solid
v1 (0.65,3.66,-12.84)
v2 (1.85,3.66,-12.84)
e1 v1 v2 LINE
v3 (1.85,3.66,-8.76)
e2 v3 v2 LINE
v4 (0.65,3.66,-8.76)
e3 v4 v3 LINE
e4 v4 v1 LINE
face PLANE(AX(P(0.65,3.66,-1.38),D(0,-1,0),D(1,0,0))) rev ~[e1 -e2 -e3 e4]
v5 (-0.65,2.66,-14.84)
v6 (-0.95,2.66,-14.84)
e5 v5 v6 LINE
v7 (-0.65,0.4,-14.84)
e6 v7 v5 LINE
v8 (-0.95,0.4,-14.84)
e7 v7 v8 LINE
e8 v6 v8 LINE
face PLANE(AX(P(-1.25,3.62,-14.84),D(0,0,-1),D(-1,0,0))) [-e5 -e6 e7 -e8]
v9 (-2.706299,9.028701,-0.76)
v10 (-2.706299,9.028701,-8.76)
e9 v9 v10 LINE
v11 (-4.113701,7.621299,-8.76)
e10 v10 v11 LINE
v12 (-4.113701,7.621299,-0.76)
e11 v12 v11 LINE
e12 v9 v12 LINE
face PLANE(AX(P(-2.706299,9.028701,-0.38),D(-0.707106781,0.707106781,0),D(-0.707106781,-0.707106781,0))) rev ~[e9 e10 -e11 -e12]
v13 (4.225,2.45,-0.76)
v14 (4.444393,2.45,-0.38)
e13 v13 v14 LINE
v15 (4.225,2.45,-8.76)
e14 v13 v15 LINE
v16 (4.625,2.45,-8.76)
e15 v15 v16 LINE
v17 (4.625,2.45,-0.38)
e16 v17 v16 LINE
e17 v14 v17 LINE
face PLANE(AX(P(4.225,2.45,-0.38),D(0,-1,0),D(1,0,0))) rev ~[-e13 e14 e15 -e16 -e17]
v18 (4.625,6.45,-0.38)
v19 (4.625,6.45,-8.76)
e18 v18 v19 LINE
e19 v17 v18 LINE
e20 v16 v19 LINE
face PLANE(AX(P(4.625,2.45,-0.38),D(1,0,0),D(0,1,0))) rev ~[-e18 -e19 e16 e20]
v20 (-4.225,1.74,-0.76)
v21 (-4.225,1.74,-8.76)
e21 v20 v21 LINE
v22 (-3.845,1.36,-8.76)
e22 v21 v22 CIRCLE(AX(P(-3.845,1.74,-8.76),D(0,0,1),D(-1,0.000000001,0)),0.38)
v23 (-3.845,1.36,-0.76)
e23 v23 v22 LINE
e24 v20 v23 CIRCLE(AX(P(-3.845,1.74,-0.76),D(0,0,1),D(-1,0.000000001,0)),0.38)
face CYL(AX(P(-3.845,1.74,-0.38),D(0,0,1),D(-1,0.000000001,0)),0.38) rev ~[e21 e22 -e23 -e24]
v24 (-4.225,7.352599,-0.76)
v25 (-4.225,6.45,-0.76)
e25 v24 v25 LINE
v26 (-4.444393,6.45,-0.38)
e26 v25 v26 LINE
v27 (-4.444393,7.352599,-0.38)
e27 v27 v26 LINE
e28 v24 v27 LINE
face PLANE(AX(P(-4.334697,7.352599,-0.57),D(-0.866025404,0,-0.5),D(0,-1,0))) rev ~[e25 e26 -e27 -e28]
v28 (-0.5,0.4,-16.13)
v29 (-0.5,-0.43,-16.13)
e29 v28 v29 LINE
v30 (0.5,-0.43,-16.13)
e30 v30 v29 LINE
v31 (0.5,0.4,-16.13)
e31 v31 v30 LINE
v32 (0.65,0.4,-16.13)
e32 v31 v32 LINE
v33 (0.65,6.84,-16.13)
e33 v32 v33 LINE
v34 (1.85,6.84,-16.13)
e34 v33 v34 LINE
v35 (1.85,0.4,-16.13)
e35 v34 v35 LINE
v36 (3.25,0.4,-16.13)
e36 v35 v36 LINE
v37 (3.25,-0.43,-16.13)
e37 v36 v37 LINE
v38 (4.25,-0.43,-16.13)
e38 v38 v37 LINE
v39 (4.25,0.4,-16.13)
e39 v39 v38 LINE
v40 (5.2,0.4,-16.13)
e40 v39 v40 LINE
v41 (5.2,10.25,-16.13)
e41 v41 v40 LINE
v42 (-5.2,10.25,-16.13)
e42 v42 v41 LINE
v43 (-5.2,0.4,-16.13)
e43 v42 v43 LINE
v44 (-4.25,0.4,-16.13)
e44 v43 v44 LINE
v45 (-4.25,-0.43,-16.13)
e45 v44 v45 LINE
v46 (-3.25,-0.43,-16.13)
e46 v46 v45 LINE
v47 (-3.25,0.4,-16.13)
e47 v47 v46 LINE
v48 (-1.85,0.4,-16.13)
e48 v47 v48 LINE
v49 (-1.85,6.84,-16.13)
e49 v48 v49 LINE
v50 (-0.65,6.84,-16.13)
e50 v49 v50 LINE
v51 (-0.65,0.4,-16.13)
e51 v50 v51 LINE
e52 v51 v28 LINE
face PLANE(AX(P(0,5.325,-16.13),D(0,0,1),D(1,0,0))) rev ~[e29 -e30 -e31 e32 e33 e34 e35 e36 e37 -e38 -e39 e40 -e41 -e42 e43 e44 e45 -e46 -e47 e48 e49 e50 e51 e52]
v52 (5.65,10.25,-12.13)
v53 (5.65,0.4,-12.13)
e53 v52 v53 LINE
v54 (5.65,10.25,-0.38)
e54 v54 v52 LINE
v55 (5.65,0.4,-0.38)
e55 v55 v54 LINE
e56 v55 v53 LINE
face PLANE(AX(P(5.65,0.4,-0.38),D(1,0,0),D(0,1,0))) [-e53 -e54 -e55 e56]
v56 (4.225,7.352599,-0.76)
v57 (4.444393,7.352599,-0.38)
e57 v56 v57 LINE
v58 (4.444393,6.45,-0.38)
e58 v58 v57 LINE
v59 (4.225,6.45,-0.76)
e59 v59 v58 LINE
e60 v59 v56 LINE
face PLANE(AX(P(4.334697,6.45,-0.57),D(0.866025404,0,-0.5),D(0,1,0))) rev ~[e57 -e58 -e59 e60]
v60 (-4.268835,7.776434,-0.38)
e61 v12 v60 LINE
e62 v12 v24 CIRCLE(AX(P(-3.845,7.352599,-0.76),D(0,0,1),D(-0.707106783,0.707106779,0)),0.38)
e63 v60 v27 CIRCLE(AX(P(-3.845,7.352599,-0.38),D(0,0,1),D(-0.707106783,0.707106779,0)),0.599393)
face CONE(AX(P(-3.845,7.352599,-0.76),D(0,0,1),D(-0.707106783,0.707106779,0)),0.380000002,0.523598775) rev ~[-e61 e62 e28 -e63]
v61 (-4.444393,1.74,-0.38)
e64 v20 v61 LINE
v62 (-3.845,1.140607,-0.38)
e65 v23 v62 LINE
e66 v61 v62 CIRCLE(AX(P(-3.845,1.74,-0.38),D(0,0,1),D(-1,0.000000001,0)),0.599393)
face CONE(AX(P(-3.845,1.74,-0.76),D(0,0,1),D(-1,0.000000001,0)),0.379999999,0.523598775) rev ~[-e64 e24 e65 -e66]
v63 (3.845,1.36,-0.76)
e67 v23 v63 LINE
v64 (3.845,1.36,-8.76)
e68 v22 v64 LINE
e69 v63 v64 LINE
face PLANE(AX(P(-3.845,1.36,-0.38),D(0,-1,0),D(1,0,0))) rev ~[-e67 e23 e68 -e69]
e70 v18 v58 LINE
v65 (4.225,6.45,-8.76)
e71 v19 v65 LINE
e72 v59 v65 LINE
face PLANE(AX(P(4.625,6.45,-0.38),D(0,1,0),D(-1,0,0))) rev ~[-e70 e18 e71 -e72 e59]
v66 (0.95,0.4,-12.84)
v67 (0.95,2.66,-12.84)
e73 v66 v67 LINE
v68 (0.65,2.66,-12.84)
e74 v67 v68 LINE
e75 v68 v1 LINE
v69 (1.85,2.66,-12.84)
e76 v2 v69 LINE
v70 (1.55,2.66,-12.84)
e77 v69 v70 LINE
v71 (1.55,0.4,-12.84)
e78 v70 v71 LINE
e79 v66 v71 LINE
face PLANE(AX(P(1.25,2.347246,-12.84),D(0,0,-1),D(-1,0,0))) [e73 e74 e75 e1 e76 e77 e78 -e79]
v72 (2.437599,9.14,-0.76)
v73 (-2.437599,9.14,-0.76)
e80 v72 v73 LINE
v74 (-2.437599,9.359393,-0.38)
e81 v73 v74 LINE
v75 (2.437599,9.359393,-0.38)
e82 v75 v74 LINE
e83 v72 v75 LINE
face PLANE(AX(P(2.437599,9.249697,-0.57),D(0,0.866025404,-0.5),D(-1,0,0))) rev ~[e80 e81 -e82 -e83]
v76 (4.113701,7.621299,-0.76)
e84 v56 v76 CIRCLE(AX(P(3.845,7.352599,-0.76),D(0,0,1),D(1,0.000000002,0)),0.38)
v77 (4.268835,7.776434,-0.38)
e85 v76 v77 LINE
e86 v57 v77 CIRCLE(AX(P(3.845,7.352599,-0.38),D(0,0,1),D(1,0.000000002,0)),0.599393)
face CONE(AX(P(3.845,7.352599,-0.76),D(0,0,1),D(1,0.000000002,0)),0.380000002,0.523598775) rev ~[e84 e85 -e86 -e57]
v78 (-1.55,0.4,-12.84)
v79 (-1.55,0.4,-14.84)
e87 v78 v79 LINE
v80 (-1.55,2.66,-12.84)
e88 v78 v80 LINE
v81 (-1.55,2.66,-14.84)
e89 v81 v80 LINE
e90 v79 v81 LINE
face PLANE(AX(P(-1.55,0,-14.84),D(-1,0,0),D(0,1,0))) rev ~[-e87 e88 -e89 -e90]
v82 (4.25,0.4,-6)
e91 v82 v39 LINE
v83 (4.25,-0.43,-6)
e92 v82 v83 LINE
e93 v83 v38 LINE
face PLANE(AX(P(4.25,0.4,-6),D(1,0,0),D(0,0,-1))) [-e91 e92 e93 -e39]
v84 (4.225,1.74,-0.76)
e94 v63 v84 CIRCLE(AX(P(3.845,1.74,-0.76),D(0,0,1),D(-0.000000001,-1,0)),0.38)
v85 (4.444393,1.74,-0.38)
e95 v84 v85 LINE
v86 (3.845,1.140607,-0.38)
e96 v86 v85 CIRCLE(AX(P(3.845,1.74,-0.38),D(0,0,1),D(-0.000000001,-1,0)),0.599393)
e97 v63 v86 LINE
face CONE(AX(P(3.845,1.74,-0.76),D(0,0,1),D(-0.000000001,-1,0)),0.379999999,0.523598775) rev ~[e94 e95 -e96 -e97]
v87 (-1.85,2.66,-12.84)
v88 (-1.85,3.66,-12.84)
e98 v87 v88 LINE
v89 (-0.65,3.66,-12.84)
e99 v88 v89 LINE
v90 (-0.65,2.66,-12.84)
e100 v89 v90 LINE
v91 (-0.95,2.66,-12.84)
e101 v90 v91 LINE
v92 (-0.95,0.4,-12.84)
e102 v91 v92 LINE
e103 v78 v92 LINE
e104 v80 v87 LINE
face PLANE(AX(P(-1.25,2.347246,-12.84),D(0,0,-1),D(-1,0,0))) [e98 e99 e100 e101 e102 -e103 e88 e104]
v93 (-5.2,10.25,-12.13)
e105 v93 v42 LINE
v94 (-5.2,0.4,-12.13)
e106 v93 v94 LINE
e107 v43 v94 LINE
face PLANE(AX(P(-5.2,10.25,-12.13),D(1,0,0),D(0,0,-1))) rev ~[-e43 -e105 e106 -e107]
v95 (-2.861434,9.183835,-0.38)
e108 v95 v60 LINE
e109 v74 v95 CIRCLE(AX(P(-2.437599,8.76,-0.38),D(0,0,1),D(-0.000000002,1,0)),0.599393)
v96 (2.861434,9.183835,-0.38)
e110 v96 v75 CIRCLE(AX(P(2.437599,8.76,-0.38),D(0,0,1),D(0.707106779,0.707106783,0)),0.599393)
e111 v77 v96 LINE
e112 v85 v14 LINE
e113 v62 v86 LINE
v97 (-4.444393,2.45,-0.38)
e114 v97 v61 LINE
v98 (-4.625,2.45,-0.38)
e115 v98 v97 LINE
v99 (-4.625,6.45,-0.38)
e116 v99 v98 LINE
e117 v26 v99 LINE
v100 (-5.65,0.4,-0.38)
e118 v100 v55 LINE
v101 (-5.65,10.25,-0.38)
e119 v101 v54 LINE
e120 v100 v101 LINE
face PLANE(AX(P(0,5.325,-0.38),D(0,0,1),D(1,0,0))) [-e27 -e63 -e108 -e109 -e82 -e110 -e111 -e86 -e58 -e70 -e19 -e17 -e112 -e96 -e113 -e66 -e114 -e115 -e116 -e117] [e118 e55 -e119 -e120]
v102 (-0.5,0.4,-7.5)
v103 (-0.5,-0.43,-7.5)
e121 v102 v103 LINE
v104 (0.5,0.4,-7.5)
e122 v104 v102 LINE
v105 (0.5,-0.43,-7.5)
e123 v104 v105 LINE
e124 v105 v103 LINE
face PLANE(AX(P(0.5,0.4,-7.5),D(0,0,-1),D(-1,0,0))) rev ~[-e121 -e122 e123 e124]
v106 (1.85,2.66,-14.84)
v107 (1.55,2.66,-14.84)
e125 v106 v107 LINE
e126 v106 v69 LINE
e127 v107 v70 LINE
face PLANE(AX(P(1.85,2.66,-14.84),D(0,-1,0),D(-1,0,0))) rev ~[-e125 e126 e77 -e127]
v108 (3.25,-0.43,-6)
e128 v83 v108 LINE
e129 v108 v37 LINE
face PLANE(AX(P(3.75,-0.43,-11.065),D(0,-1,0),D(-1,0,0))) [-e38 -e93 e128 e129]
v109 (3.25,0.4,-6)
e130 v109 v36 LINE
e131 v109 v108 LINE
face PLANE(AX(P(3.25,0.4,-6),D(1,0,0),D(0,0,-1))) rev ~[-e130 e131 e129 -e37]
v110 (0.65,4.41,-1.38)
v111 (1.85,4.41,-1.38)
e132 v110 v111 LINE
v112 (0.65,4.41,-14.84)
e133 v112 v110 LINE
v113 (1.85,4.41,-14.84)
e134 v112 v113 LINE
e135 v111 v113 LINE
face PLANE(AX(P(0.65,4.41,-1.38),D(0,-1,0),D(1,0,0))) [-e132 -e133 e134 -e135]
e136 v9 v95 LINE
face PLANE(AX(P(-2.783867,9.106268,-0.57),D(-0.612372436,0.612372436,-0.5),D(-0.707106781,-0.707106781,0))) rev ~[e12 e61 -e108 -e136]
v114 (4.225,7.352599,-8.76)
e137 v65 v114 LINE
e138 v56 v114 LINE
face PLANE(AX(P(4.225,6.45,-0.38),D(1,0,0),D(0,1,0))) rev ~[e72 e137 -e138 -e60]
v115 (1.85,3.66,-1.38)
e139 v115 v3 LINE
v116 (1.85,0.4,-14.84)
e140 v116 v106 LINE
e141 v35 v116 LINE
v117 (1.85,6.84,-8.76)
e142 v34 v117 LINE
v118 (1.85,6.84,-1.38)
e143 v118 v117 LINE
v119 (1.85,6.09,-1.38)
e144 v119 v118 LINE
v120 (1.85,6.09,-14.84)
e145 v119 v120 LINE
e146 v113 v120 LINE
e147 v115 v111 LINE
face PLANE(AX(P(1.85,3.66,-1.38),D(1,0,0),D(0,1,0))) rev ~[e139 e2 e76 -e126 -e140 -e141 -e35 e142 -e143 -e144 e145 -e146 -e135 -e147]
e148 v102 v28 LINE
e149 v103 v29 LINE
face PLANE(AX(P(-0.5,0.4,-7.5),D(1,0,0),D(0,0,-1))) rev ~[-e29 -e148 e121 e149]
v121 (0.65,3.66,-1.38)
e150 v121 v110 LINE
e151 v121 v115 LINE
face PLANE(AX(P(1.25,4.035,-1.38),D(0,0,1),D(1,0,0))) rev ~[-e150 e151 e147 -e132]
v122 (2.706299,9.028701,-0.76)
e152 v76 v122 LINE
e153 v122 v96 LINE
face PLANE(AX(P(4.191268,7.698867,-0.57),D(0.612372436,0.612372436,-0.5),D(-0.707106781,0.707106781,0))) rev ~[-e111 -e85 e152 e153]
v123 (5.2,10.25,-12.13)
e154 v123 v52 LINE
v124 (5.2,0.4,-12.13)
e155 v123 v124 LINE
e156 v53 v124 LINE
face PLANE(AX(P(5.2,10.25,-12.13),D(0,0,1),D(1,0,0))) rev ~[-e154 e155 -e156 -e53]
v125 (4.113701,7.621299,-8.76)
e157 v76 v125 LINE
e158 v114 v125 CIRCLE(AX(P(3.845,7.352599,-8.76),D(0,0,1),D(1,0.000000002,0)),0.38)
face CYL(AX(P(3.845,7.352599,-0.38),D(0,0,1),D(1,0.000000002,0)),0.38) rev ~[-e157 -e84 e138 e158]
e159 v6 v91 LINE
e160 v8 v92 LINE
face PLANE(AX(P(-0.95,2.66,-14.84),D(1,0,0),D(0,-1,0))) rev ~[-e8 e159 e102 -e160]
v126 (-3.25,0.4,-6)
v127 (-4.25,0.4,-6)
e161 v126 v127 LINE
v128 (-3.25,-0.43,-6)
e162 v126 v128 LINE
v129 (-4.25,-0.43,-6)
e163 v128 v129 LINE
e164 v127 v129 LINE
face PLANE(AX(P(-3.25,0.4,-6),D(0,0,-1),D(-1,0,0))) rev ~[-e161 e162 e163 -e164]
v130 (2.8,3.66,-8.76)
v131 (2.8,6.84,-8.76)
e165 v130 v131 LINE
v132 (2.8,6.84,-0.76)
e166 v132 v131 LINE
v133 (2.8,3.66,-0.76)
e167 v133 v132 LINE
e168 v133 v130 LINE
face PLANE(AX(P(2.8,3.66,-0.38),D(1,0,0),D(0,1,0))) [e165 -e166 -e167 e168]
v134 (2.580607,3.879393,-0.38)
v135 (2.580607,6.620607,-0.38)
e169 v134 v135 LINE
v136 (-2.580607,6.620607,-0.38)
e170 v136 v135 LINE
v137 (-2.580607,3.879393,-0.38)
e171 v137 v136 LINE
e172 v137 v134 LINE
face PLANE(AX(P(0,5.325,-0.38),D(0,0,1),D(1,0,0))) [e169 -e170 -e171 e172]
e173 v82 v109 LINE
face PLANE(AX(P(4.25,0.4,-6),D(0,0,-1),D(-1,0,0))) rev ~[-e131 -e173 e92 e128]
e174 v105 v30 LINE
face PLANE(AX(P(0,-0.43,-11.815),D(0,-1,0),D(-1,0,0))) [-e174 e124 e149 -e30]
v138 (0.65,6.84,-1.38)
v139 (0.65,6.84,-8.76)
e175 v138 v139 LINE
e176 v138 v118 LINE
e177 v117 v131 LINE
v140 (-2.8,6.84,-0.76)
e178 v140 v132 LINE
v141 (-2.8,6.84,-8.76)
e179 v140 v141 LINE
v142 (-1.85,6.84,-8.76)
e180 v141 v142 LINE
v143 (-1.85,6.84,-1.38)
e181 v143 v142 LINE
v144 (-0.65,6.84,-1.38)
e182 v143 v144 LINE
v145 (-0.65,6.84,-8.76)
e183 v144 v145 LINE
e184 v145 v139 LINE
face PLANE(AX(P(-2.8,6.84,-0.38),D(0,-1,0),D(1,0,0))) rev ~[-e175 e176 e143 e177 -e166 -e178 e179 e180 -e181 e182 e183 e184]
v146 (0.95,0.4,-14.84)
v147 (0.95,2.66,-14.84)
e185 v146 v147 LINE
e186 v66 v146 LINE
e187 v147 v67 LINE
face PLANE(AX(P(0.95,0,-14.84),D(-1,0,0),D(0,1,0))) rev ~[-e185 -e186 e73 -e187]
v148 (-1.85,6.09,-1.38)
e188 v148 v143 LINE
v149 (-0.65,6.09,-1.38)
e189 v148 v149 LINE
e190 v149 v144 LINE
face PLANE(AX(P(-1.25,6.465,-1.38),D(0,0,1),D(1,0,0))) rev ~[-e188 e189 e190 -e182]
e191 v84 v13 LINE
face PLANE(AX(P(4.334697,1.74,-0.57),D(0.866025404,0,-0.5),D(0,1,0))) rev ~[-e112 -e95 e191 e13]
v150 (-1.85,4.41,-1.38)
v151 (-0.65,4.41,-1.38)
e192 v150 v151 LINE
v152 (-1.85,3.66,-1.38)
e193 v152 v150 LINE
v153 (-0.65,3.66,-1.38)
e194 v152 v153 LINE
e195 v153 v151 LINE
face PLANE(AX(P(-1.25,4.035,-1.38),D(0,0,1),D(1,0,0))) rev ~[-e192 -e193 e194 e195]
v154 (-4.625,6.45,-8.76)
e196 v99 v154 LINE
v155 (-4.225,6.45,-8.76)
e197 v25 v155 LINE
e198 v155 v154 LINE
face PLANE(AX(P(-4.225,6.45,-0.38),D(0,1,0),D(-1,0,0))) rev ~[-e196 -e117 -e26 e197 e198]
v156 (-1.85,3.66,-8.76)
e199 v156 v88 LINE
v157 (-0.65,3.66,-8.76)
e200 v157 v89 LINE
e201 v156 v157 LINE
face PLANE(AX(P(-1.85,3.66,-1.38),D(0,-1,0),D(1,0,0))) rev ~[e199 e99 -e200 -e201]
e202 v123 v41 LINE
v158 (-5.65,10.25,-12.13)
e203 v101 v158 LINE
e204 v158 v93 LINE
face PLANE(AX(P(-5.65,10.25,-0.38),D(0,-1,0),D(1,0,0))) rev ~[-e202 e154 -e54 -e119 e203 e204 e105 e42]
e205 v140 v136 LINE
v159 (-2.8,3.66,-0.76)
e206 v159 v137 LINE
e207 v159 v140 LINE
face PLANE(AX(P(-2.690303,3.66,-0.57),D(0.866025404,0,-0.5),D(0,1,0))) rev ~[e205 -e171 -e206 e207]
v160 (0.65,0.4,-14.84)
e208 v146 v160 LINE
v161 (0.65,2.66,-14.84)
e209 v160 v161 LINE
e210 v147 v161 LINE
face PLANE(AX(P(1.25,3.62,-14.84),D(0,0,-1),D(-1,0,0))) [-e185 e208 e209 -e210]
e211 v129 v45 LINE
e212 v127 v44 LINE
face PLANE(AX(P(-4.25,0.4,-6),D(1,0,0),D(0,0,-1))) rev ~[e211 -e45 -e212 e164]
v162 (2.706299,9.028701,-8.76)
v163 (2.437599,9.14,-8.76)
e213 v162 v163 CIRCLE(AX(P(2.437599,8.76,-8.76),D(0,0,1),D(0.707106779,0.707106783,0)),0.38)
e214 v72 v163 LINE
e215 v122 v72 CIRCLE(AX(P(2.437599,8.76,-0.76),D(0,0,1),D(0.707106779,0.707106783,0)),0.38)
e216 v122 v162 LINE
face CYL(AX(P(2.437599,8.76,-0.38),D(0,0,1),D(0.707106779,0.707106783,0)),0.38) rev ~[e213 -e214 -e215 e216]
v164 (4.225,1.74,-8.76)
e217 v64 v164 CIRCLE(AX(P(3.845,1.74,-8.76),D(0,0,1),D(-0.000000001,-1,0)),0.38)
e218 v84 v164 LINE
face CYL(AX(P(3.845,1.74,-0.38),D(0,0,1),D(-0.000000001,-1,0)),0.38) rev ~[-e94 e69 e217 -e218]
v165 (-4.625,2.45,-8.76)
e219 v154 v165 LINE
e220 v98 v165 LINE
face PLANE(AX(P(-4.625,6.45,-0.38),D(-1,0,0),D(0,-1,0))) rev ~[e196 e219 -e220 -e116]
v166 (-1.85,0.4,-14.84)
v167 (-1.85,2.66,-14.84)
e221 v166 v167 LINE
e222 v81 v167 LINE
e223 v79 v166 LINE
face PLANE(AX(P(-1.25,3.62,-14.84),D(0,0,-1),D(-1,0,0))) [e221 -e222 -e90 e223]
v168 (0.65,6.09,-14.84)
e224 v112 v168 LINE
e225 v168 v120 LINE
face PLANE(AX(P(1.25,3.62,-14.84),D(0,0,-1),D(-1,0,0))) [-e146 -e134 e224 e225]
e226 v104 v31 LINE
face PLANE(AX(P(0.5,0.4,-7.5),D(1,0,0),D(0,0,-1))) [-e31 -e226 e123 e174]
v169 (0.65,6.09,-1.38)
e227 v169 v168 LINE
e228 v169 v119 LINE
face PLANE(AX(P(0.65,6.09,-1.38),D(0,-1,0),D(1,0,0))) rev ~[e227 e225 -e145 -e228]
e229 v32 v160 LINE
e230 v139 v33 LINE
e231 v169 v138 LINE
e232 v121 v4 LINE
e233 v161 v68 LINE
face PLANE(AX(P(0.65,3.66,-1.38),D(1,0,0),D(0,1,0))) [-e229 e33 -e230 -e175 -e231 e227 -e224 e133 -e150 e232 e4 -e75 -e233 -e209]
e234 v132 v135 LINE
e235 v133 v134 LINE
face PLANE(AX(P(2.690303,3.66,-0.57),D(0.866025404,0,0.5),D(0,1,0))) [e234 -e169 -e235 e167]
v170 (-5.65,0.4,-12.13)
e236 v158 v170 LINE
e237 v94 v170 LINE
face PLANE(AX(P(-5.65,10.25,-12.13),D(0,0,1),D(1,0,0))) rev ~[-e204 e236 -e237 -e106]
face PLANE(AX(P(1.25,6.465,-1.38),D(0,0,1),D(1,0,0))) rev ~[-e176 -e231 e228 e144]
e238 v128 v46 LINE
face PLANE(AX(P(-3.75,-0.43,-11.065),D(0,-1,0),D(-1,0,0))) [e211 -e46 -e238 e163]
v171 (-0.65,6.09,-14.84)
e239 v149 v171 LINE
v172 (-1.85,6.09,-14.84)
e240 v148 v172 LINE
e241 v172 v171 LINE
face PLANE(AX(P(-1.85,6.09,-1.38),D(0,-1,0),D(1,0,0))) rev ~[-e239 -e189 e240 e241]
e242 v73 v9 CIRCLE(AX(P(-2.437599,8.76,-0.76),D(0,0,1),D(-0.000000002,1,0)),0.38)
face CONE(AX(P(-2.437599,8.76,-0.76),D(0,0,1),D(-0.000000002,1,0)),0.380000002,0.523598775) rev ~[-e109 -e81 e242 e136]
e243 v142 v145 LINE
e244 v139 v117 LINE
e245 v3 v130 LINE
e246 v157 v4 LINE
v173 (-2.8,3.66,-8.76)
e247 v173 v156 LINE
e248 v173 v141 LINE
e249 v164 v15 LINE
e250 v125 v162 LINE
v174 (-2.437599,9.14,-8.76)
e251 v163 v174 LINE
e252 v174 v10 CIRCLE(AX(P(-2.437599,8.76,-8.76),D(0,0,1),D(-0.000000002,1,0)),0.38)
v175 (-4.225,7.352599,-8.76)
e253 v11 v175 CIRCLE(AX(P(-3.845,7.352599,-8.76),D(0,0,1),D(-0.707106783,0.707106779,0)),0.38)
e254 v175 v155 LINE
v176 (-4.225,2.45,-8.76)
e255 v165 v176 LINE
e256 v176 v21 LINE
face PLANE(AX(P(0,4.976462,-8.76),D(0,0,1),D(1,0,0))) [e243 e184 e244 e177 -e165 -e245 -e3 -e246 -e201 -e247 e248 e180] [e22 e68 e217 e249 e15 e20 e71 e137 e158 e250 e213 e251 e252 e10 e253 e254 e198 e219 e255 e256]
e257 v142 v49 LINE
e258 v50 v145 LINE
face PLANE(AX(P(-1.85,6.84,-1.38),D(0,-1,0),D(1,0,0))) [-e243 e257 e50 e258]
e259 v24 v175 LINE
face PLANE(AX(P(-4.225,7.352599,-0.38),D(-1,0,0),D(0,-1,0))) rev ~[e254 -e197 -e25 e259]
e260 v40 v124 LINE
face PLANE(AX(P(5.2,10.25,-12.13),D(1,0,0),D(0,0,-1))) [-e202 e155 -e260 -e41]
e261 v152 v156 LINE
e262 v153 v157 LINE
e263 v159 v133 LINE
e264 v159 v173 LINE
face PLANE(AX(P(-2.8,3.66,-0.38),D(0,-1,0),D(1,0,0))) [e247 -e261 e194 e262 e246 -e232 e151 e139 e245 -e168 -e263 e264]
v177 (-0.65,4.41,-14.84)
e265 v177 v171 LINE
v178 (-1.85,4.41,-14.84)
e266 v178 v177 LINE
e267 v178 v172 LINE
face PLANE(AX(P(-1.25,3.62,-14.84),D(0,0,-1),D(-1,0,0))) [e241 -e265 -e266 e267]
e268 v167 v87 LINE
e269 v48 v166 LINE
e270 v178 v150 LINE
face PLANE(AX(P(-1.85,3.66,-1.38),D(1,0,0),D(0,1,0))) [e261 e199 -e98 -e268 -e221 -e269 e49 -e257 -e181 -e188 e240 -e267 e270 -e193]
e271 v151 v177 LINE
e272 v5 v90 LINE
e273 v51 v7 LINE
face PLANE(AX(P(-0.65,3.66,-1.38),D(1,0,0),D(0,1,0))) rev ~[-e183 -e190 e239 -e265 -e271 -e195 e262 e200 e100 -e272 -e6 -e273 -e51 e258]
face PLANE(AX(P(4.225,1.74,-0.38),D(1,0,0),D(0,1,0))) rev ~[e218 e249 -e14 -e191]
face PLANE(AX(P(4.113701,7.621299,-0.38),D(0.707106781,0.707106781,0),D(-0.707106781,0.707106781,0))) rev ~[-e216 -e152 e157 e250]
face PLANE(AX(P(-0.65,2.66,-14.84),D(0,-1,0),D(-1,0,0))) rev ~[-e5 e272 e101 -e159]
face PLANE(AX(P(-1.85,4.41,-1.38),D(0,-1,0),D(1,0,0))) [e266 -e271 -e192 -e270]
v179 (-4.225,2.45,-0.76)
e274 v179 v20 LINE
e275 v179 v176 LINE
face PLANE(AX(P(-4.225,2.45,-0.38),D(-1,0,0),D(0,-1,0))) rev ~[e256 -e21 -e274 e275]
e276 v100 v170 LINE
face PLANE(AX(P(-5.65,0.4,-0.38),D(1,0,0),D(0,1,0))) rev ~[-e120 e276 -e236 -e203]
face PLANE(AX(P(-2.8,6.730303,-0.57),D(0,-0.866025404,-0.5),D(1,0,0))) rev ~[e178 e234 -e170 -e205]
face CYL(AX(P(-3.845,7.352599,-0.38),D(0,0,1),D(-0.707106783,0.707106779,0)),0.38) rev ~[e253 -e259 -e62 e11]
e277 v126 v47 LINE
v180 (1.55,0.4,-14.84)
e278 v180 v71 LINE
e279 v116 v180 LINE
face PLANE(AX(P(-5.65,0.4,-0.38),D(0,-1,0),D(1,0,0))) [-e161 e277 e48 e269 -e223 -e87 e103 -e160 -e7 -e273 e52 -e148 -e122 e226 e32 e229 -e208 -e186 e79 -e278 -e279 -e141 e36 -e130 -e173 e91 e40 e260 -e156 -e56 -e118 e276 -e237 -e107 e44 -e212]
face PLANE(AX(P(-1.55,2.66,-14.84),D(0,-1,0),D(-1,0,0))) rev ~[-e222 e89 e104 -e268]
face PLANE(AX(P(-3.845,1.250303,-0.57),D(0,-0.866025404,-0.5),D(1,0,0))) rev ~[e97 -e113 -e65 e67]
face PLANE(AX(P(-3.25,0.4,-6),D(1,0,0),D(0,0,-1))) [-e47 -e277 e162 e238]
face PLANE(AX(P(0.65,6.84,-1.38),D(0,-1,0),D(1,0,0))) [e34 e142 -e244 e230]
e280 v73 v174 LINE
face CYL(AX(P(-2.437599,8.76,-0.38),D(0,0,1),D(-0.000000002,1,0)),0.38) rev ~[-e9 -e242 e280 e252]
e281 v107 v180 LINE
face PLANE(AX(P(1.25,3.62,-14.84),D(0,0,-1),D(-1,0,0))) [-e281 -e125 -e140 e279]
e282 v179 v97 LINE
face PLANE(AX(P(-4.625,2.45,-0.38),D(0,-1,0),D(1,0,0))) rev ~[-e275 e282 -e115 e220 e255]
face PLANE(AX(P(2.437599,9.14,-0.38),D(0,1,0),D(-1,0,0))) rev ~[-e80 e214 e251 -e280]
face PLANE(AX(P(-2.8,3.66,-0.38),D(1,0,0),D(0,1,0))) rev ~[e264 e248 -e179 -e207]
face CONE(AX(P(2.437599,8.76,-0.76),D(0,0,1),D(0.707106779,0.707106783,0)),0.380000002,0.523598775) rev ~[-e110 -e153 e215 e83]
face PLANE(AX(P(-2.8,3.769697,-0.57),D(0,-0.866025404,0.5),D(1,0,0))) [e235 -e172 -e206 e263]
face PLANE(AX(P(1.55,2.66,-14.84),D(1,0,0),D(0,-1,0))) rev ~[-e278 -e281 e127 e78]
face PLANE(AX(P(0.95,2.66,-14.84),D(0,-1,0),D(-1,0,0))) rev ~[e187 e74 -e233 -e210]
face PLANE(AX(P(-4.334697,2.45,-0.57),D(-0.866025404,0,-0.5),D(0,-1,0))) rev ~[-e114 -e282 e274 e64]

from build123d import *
from OCP.BRepFilletAPI import BRepFilletAPI_MakeChamfer

# Parameters (mm, degrees)
SKETCH1_W           = 11.3
SKETCH1_H           = 9.85
BOSS_EXTRUDE1_DEPTH = 15.75
SKETCH2_W           = 0.45
SKETCH2_H           = 4
CUT_EXTRUDE1_DEPTH  = 15.75
SKETCH3_W           = 5.6
SKETCH3_H           = 3.18
CUT_EXTRUDE2_DEPTH  = 8.38
CHAMFER1_SIZE       = 0.38
CHAMFER1_SIZE2      = 0.219393102
CHAMFER2_SIZE       = 0.38
CHAMFER2_SIZE2      = 0.219393102
SKETCH4_W           = 1
SKETCH4_H           = 10.13
SKETCH4_H_2         = 8.63
BOSS_EXTRUDE2_DEPTH = 0.83
SKETCH5_W           = 1.2
SKETCH5_H           = 0.75
CUT_EXTRUDE3_DEPTH  = 19.829431749
SKETCH6_W           = 1.2
SKETCH6_H           = 6.44
CUT_EXTRUDE4_DEPTH  = 1.29
CUT_EXTRUDE5_DEPTH  = 2


with BuildPart() as part:
    # Sketch1 → Boss-Extrude1 (new body)
    with BuildSketch(Plane.XY.offset(-0.38)):
        with Locations((0, 5.325)):
            Rectangle(SKETCH1_W, SKETCH1_H)
    extrude(amount=-BOSS_EXTRUDE1_DEPTH)

    # Sketch2 → Cut-Extrude1 (cut)
    with BuildSketch(Plane(origin=(0, 10.25, 0), x_dir=(1, 0, 0), z_dir=(0, 1, 0))):
        with Locations((-5.425, 14.13)):
            Rectangle(SKETCH2_W, SKETCH2_H)
        with Locations((5.425, 14.13)):
            Rectangle(SKETCH2_W, SKETCH2_H)
    extrude(amount=-CUT_EXTRUDE1_DEPTH, mode=Mode.SUBTRACT)

    # Sketch3 → Cut-Extrude2 (cut)
    with BuildSketch(Plane.XY.offset(-0.38)):
        with BuildLine():
            Line((-4.225, 7.352598846), (-4.225, 6.45))
            Line((-4.225, 6.45), (-4.625, 6.45))
            Line((-4.625, 6.45), (-4.625, 2.45))
            Line((-4.625, 2.45), (-4.225, 2.45))
            Line((-4.225, 2.45), (-4.225, 1.74))
            ThreePointArc((-4.225, 1.74), (-4.113700577, 1.471299423), (-3.845, 1.36))
            Line((-3.845, 1.36), (3.845, 1.36))
            ThreePointArc((3.845, 1.36), (4.113700577, 1.471299423), (4.225, 1.74))
            Line((4.225, 1.74), (4.225, 2.45))
            Line((4.225, 2.45), (4.625, 2.45))
            Line((4.625, 2.45), (4.625, 6.45))
            Line((4.625, 6.45), (4.225, 6.45))
            Line((4.225, 6.45), (4.225, 7.352598846))
            ThreePointArc((4.225, 7.352598846), (4.196074222, 7.498018551), (4.113700577, 7.621299423))
            Line((4.113700577, 7.621299423), (2.706299423, 9.028700577))
            ThreePointArc((2.706299423, 9.028700577), (2.583018551, 9.111074222), (2.437598846, 9.14))
            Line((2.437598846, 9.14), (-2.437598846, 9.14))
            ThreePointArc((-2.437598846, 9.14), (-2.583018551, 9.111074222), (-2.706299423, 9.028700577))
            Line((-2.706299423, 9.028700577), (-4.113700577, 7.621299423))
            ThreePointArc((-4.113700577, 7.621299423), (-4.196074222, 7.498018551), (-4.225, 7.352598846))
        make_face()
        with Locations((0, 5.25)):
            Rectangle(SKETCH3_W, SKETCH3_H, mode=Mode.SUBTRACT)
    extrude(amount=-CUT_EXTRUDE2_DEPTH, mode=Mode.SUBTRACT)

    # Chamfer1: one chamfer whose edges measure the first distance from different faces: ONE call of the kernel's chamfer builder (chamfer() names one face for all edges)
    chamfer1_edges_1 = [part.edges().sort_by_distance(p)[0] for p in [
        (-2.8, 5.25, -0.38),
    ]]
    chamfer1_side_1 = [part.faces().sort_by_distance(p)[0] for p in [
        (-2.8, 5.25, -4.57),
    ]]
    chamfer1_edges_2 = [part.edges().sort_by_distance(p)[0] for p in [
        (0, 6.84, -0.38),
    ]]
    chamfer1_side_2 = [part.faces().sort_by_distance(p)[0] for p in [
        (0, 6.84, -4.57),
    ]]
    chamfer1_edges_3 = [part.edges().sort_by_distance(p)[0] for p in [
        (2.8, 5.25, -0.38),
    ]]
    chamfer1_side_3 = [part.faces().sort_by_distance(p)[0] for p in [
        (2.8, 5.25, -4.57),
    ]]
    chamfer1_edges_4 = [part.edges().sort_by_distance(p)[0] for p in [
        (0, 3.66, -0.38),
    ]]
    chamfer1_side_4 = [part.faces().sort_by_distance(p)[0] for p in [
        (0, 3.66, -4.57),
    ]]
    chamfer1 = BRepFilletAPI_MakeChamfer(part.part.solid().wrapped)
    for e in chamfer1_edges_1:
        chamfer1.Add(CHAMFER1_SIZE, CHAMFER1_SIZE2, e.wrapped, chamfer1_side_1[0].wrapped)  # the first distance lies on this face
    for e in chamfer1_edges_2:
        chamfer1.Add(CHAMFER1_SIZE, CHAMFER1_SIZE2, e.wrapped, chamfer1_side_2[0].wrapped)  # the first distance lies on this face
    for e in chamfer1_edges_3:
        chamfer1.Add(CHAMFER1_SIZE, CHAMFER1_SIZE2, e.wrapped, chamfer1_side_3[0].wrapped)  # the first distance lies on this face
    for e in chamfer1_edges_4:
        chamfer1.Add(CHAMFER1_SIZE, CHAMFER1_SIZE2, e.wrapped, chamfer1_side_4[0].wrapped)  # the first distance lies on this face
    add(Compound.cast(chamfer1.Shape()), mode=Mode.REPLACE)

    # Chamfer2: one chamfer whose edges measure the first distance from different faces: ONE call of the kernel's chamfer builder (chamfer() names one face for all edges)
    chamfer2_edges_1 = [part.edges().sort_by_distance(p)[0] for p in [
        (-4.196074222, 7.498018551, -0.38),
    ]]
    chamfer2_side_1 = [part.faces().sort_by_distance(p)[0] for p in [
        (-4.196074222, 7.498018551, -4.57),
    ]]
    chamfer2_edges_2 = [part.edges().sort_by_distance(p)[0] for p in [
        (-4.225, 6.901299423, -0.38),
    ]]
    chamfer2_side_2 = [part.faces().sort_by_distance(p)[0] for p in [
        (-4.225, 6.901299423, -4.57),
    ]]
    chamfer2_edges_3 = [part.edges().sort_by_distance(p)[0] for p in [
        (-4.225, 2.095, -0.38),
    ]]
    chamfer2_side_3 = [part.faces().sort_by_distance(p)[0] for p in [
        (-4.225, 2.095, -4.57),
    ]]
    chamfer2_edges_4 = [part.edges().sort_by_distance(p)[0] for p in [
        (-4.113700577, 1.471299423, -0.38),
    ]]
    chamfer2_side_4 = [part.faces().sort_by_distance(p)[0] for p in [
        (-4.113700577, 1.471299423, -4.57),
    ]]
    chamfer2_edges_5 = [part.edges().sort_by_distance(p)[0] for p in [
        (0, 1.36, -0.38),
    ]]
    chamfer2_side_5 = [part.faces().sort_by_distance(p)[0] for p in [
        (0, 1.36, -4.57),
    ]]
    chamfer2_edges_6 = [part.edges().sort_by_distance(p)[0] for p in [
        (4.113700577, 1.471299423, -0.38),
    ]]
    chamfer2_side_6 = [part.faces().sort_by_distance(p)[0] for p in [
        (4.113700577, 1.471299423, -4.57),
    ]]
    chamfer2_edges_7 = [part.edges().sort_by_distance(p)[0] for p in [
        (4.225, 2.095, -0.38),
    ]]
    chamfer2_side_7 = [part.faces().sort_by_distance(p)[0] for p in [
        (4.225, 2.095, -4.57),
    ]]
    chamfer2_edges_8 = [part.edges().sort_by_distance(p)[0] for p in [
        (4.225, 6.901299423, -0.38),
    ]]
    chamfer2_side_8 = [part.faces().sort_by_distance(p)[0] for p in [
        (4.225, 6.901299423, -4.57),
    ]]
    chamfer2_edges_9 = [part.edges().sort_by_distance(p)[0] for p in [
        (4.196074222, 7.498018551, -0.38),
    ]]
    chamfer2_side_9 = [part.faces().sort_by_distance(p)[0] for p in [
        (4.196074222, 7.498018551, -4.57),
    ]]
    chamfer2_edges_10 = [part.edges().sort_by_distance(p)[0] for p in [
        (3.41, 8.325, -0.38),
    ]]
    chamfer2_side_10 = [part.faces().sort_by_distance(p)[0] for p in [
        (3.41, 8.325, -4.57),
    ]]
    chamfer2_edges_11 = [part.edges().sort_by_distance(p)[0] for p in [
        (2.583018551, 9.111074222, -0.38),
    ]]
    chamfer2_side_11 = [part.faces().sort_by_distance(p)[0] for p in [
        (2.583018551, 9.111074222, -4.57),
    ]]
    chamfer2_edges_12 = [part.edges().sort_by_distance(p)[0] for p in [
        (0, 9.14, -0.38),
    ]]
    chamfer2_side_12 = [part.faces().sort_by_distance(p)[0] for p in [
        (0, 9.14, -4.57),
    ]]
    chamfer2_edges_13 = [part.edges().sort_by_distance(p)[0] for p in [
        (-2.583018551, 9.111074222, -0.38),
    ]]
    chamfer2_side_13 = [part.faces().sort_by_distance(p)[0] for p in [
        (-2.583018551, 9.111074222, -4.57),
    ]]
    chamfer2_edges_14 = [part.edges().sort_by_distance(p)[0] for p in [
        (-3.41, 8.325, -0.38),
    ]]
    chamfer2_side_14 = [part.faces().sort_by_distance(p)[0] for p in [
        (-3.41, 8.325, -4.57),
    ]]
    chamfer2 = BRepFilletAPI_MakeChamfer(part.part.solid().wrapped)
    for e in chamfer2_edges_1:
        chamfer2.Add(CHAMFER2_SIZE, CHAMFER2_SIZE2, e.wrapped, chamfer2_side_1[0].wrapped)  # the first distance lies on this face
    for e in chamfer2_edges_2:
        chamfer2.Add(CHAMFER2_SIZE, CHAMFER2_SIZE2, e.wrapped, chamfer2_side_2[0].wrapped)  # the first distance lies on this face
    for e in chamfer2_edges_3:
        chamfer2.Add(CHAMFER2_SIZE, CHAMFER2_SIZE2, e.wrapped, chamfer2_side_3[0].wrapped)  # the first distance lies on this face
    for e in chamfer2_edges_4:
        chamfer2.Add(CHAMFER2_SIZE, CHAMFER2_SIZE2, e.wrapped, chamfer2_side_4[0].wrapped)  # the first distance lies on this face
    for e in chamfer2_edges_5:
        chamfer2.Add(CHAMFER2_SIZE, CHAMFER2_SIZE2, e.wrapped, chamfer2_side_5[0].wrapped)  # the first distance lies on this face
    for e in chamfer2_edges_6:
        chamfer2.Add(CHAMFER2_SIZE, CHAMFER2_SIZE2, e.wrapped, chamfer2_side_6[0].wrapped)  # the first distance lies on this face
    for e in chamfer2_edges_7:
        chamfer2.Add(CHAMFER2_SIZE, CHAMFER2_SIZE2, e.wrapped, chamfer2_side_7[0].wrapped)  # the first distance lies on this face
    for e in chamfer2_edges_8:
        chamfer2.Add(CHAMFER2_SIZE, CHAMFER2_SIZE2, e.wrapped, chamfer2_side_8[0].wrapped)  # the first distance lies on this face
    for e in chamfer2_edges_9:
        chamfer2.Add(CHAMFER2_SIZE, CHAMFER2_SIZE2, e.wrapped, chamfer2_side_9[0].wrapped)  # the first distance lies on this face
    for e in chamfer2_edges_10:
        chamfer2.Add(CHAMFER2_SIZE, CHAMFER2_SIZE2, e.wrapped, chamfer2_side_10[0].wrapped)  # the first distance lies on this face
    for e in chamfer2_edges_11:
        chamfer2.Add(CHAMFER2_SIZE, CHAMFER2_SIZE2, e.wrapped, chamfer2_side_11[0].wrapped)  # the first distance lies on this face
    for e in chamfer2_edges_12:
        chamfer2.Add(CHAMFER2_SIZE, CHAMFER2_SIZE2, e.wrapped, chamfer2_side_12[0].wrapped)  # the first distance lies on this face
    for e in chamfer2_edges_13:
        chamfer2.Add(CHAMFER2_SIZE, CHAMFER2_SIZE2, e.wrapped, chamfer2_side_13[0].wrapped)  # the first distance lies on this face
    for e in chamfer2_edges_14:
        chamfer2.Add(CHAMFER2_SIZE, CHAMFER2_SIZE2, e.wrapped, chamfer2_side_14[0].wrapped)  # the first distance lies on this face
    add(Compound.cast(chamfer2.Shape()), mode=Mode.REPLACE)

    # Sketch4 → Boss-Extrude2 (add)
    with BuildSketch(Plane(origin=(0, 0.4, 0), x_dir=(-1, 0, 0), z_dir=(0, -1, 0))):
        with Locations((3.75, 11.065)):
            Rectangle(SKETCH4_W, SKETCH4_H)
        with Locations((0, 11.815)):
            Rectangle(SKETCH4_W, SKETCH4_H_2)
        with Locations((-3.75, 11.065)):
            Rectangle(SKETCH4_W, SKETCH4_H)
    extrude(amount=BOSS_EXTRUDE2_DEPTH)

    # Sketch5 → Cut-Extrude3 (cut, through all)
    with BuildSketch(Plane.XY.offset(-1.38)):
        with Locations((-1.25, 6.465)):
            Rectangle(SKETCH5_W, SKETCH5_H)
        with Locations((1.25, 6.465)):
            Rectangle(SKETCH5_W, SKETCH5_H)
        with Locations((1.25, 4.035)):
            Rectangle(SKETCH5_W, SKETCH5_H)
        with Locations((-1.25, 4.035)):
            Rectangle(SKETCH5_W, SKETCH5_H)
    extrude(amount=-CUT_EXTRUDE3_DEPTH, mode=Mode.SUBTRACT)

    # Sketch6 → Cut-Extrude4 (cut)
    with BuildSketch(Plane(origin=(0, 0, -16.13), x_dir=(-1, 0, 0), z_dir=(0, 0, -1))):
        with Locations((-1.25, 3.62)):
            Rectangle(SKETCH6_W, SKETCH6_H)
        with Locations((1.25, 3.62)):
            Rectangle(SKETCH6_W, SKETCH6_H)
    extrude(amount=-CUT_EXTRUDE4_DEPTH, mode=Mode.SUBTRACT)

    # Sketch7 → Cut-Extrude5 (cut)
    with BuildSketch(Plane(origin=(0, 0, -14.84), x_dir=(-1, 0, 0), z_dir=(0, 0, -1))):
        Polygon((-1.55, 2.66), (-1.55, 0), (-0.95, 0), (-0.95, 2.66), (-0.65, 2.66), (-0.65, 4.41), (-1.85, 4.41), (-1.85, 2.66), align=None)
        Polygon((0.95, 2.66), (0.95, 0), (1.55, 0), (1.55, 2.66), (1.85, 2.66), (1.85, 4.41), (0.65, 4.41), (0.65, 2.66), align=None)
    extrude(amount=-CUT_EXTRUDE5_DEPTH, mode=Mode.SUBTRACT)


solid = part.part
